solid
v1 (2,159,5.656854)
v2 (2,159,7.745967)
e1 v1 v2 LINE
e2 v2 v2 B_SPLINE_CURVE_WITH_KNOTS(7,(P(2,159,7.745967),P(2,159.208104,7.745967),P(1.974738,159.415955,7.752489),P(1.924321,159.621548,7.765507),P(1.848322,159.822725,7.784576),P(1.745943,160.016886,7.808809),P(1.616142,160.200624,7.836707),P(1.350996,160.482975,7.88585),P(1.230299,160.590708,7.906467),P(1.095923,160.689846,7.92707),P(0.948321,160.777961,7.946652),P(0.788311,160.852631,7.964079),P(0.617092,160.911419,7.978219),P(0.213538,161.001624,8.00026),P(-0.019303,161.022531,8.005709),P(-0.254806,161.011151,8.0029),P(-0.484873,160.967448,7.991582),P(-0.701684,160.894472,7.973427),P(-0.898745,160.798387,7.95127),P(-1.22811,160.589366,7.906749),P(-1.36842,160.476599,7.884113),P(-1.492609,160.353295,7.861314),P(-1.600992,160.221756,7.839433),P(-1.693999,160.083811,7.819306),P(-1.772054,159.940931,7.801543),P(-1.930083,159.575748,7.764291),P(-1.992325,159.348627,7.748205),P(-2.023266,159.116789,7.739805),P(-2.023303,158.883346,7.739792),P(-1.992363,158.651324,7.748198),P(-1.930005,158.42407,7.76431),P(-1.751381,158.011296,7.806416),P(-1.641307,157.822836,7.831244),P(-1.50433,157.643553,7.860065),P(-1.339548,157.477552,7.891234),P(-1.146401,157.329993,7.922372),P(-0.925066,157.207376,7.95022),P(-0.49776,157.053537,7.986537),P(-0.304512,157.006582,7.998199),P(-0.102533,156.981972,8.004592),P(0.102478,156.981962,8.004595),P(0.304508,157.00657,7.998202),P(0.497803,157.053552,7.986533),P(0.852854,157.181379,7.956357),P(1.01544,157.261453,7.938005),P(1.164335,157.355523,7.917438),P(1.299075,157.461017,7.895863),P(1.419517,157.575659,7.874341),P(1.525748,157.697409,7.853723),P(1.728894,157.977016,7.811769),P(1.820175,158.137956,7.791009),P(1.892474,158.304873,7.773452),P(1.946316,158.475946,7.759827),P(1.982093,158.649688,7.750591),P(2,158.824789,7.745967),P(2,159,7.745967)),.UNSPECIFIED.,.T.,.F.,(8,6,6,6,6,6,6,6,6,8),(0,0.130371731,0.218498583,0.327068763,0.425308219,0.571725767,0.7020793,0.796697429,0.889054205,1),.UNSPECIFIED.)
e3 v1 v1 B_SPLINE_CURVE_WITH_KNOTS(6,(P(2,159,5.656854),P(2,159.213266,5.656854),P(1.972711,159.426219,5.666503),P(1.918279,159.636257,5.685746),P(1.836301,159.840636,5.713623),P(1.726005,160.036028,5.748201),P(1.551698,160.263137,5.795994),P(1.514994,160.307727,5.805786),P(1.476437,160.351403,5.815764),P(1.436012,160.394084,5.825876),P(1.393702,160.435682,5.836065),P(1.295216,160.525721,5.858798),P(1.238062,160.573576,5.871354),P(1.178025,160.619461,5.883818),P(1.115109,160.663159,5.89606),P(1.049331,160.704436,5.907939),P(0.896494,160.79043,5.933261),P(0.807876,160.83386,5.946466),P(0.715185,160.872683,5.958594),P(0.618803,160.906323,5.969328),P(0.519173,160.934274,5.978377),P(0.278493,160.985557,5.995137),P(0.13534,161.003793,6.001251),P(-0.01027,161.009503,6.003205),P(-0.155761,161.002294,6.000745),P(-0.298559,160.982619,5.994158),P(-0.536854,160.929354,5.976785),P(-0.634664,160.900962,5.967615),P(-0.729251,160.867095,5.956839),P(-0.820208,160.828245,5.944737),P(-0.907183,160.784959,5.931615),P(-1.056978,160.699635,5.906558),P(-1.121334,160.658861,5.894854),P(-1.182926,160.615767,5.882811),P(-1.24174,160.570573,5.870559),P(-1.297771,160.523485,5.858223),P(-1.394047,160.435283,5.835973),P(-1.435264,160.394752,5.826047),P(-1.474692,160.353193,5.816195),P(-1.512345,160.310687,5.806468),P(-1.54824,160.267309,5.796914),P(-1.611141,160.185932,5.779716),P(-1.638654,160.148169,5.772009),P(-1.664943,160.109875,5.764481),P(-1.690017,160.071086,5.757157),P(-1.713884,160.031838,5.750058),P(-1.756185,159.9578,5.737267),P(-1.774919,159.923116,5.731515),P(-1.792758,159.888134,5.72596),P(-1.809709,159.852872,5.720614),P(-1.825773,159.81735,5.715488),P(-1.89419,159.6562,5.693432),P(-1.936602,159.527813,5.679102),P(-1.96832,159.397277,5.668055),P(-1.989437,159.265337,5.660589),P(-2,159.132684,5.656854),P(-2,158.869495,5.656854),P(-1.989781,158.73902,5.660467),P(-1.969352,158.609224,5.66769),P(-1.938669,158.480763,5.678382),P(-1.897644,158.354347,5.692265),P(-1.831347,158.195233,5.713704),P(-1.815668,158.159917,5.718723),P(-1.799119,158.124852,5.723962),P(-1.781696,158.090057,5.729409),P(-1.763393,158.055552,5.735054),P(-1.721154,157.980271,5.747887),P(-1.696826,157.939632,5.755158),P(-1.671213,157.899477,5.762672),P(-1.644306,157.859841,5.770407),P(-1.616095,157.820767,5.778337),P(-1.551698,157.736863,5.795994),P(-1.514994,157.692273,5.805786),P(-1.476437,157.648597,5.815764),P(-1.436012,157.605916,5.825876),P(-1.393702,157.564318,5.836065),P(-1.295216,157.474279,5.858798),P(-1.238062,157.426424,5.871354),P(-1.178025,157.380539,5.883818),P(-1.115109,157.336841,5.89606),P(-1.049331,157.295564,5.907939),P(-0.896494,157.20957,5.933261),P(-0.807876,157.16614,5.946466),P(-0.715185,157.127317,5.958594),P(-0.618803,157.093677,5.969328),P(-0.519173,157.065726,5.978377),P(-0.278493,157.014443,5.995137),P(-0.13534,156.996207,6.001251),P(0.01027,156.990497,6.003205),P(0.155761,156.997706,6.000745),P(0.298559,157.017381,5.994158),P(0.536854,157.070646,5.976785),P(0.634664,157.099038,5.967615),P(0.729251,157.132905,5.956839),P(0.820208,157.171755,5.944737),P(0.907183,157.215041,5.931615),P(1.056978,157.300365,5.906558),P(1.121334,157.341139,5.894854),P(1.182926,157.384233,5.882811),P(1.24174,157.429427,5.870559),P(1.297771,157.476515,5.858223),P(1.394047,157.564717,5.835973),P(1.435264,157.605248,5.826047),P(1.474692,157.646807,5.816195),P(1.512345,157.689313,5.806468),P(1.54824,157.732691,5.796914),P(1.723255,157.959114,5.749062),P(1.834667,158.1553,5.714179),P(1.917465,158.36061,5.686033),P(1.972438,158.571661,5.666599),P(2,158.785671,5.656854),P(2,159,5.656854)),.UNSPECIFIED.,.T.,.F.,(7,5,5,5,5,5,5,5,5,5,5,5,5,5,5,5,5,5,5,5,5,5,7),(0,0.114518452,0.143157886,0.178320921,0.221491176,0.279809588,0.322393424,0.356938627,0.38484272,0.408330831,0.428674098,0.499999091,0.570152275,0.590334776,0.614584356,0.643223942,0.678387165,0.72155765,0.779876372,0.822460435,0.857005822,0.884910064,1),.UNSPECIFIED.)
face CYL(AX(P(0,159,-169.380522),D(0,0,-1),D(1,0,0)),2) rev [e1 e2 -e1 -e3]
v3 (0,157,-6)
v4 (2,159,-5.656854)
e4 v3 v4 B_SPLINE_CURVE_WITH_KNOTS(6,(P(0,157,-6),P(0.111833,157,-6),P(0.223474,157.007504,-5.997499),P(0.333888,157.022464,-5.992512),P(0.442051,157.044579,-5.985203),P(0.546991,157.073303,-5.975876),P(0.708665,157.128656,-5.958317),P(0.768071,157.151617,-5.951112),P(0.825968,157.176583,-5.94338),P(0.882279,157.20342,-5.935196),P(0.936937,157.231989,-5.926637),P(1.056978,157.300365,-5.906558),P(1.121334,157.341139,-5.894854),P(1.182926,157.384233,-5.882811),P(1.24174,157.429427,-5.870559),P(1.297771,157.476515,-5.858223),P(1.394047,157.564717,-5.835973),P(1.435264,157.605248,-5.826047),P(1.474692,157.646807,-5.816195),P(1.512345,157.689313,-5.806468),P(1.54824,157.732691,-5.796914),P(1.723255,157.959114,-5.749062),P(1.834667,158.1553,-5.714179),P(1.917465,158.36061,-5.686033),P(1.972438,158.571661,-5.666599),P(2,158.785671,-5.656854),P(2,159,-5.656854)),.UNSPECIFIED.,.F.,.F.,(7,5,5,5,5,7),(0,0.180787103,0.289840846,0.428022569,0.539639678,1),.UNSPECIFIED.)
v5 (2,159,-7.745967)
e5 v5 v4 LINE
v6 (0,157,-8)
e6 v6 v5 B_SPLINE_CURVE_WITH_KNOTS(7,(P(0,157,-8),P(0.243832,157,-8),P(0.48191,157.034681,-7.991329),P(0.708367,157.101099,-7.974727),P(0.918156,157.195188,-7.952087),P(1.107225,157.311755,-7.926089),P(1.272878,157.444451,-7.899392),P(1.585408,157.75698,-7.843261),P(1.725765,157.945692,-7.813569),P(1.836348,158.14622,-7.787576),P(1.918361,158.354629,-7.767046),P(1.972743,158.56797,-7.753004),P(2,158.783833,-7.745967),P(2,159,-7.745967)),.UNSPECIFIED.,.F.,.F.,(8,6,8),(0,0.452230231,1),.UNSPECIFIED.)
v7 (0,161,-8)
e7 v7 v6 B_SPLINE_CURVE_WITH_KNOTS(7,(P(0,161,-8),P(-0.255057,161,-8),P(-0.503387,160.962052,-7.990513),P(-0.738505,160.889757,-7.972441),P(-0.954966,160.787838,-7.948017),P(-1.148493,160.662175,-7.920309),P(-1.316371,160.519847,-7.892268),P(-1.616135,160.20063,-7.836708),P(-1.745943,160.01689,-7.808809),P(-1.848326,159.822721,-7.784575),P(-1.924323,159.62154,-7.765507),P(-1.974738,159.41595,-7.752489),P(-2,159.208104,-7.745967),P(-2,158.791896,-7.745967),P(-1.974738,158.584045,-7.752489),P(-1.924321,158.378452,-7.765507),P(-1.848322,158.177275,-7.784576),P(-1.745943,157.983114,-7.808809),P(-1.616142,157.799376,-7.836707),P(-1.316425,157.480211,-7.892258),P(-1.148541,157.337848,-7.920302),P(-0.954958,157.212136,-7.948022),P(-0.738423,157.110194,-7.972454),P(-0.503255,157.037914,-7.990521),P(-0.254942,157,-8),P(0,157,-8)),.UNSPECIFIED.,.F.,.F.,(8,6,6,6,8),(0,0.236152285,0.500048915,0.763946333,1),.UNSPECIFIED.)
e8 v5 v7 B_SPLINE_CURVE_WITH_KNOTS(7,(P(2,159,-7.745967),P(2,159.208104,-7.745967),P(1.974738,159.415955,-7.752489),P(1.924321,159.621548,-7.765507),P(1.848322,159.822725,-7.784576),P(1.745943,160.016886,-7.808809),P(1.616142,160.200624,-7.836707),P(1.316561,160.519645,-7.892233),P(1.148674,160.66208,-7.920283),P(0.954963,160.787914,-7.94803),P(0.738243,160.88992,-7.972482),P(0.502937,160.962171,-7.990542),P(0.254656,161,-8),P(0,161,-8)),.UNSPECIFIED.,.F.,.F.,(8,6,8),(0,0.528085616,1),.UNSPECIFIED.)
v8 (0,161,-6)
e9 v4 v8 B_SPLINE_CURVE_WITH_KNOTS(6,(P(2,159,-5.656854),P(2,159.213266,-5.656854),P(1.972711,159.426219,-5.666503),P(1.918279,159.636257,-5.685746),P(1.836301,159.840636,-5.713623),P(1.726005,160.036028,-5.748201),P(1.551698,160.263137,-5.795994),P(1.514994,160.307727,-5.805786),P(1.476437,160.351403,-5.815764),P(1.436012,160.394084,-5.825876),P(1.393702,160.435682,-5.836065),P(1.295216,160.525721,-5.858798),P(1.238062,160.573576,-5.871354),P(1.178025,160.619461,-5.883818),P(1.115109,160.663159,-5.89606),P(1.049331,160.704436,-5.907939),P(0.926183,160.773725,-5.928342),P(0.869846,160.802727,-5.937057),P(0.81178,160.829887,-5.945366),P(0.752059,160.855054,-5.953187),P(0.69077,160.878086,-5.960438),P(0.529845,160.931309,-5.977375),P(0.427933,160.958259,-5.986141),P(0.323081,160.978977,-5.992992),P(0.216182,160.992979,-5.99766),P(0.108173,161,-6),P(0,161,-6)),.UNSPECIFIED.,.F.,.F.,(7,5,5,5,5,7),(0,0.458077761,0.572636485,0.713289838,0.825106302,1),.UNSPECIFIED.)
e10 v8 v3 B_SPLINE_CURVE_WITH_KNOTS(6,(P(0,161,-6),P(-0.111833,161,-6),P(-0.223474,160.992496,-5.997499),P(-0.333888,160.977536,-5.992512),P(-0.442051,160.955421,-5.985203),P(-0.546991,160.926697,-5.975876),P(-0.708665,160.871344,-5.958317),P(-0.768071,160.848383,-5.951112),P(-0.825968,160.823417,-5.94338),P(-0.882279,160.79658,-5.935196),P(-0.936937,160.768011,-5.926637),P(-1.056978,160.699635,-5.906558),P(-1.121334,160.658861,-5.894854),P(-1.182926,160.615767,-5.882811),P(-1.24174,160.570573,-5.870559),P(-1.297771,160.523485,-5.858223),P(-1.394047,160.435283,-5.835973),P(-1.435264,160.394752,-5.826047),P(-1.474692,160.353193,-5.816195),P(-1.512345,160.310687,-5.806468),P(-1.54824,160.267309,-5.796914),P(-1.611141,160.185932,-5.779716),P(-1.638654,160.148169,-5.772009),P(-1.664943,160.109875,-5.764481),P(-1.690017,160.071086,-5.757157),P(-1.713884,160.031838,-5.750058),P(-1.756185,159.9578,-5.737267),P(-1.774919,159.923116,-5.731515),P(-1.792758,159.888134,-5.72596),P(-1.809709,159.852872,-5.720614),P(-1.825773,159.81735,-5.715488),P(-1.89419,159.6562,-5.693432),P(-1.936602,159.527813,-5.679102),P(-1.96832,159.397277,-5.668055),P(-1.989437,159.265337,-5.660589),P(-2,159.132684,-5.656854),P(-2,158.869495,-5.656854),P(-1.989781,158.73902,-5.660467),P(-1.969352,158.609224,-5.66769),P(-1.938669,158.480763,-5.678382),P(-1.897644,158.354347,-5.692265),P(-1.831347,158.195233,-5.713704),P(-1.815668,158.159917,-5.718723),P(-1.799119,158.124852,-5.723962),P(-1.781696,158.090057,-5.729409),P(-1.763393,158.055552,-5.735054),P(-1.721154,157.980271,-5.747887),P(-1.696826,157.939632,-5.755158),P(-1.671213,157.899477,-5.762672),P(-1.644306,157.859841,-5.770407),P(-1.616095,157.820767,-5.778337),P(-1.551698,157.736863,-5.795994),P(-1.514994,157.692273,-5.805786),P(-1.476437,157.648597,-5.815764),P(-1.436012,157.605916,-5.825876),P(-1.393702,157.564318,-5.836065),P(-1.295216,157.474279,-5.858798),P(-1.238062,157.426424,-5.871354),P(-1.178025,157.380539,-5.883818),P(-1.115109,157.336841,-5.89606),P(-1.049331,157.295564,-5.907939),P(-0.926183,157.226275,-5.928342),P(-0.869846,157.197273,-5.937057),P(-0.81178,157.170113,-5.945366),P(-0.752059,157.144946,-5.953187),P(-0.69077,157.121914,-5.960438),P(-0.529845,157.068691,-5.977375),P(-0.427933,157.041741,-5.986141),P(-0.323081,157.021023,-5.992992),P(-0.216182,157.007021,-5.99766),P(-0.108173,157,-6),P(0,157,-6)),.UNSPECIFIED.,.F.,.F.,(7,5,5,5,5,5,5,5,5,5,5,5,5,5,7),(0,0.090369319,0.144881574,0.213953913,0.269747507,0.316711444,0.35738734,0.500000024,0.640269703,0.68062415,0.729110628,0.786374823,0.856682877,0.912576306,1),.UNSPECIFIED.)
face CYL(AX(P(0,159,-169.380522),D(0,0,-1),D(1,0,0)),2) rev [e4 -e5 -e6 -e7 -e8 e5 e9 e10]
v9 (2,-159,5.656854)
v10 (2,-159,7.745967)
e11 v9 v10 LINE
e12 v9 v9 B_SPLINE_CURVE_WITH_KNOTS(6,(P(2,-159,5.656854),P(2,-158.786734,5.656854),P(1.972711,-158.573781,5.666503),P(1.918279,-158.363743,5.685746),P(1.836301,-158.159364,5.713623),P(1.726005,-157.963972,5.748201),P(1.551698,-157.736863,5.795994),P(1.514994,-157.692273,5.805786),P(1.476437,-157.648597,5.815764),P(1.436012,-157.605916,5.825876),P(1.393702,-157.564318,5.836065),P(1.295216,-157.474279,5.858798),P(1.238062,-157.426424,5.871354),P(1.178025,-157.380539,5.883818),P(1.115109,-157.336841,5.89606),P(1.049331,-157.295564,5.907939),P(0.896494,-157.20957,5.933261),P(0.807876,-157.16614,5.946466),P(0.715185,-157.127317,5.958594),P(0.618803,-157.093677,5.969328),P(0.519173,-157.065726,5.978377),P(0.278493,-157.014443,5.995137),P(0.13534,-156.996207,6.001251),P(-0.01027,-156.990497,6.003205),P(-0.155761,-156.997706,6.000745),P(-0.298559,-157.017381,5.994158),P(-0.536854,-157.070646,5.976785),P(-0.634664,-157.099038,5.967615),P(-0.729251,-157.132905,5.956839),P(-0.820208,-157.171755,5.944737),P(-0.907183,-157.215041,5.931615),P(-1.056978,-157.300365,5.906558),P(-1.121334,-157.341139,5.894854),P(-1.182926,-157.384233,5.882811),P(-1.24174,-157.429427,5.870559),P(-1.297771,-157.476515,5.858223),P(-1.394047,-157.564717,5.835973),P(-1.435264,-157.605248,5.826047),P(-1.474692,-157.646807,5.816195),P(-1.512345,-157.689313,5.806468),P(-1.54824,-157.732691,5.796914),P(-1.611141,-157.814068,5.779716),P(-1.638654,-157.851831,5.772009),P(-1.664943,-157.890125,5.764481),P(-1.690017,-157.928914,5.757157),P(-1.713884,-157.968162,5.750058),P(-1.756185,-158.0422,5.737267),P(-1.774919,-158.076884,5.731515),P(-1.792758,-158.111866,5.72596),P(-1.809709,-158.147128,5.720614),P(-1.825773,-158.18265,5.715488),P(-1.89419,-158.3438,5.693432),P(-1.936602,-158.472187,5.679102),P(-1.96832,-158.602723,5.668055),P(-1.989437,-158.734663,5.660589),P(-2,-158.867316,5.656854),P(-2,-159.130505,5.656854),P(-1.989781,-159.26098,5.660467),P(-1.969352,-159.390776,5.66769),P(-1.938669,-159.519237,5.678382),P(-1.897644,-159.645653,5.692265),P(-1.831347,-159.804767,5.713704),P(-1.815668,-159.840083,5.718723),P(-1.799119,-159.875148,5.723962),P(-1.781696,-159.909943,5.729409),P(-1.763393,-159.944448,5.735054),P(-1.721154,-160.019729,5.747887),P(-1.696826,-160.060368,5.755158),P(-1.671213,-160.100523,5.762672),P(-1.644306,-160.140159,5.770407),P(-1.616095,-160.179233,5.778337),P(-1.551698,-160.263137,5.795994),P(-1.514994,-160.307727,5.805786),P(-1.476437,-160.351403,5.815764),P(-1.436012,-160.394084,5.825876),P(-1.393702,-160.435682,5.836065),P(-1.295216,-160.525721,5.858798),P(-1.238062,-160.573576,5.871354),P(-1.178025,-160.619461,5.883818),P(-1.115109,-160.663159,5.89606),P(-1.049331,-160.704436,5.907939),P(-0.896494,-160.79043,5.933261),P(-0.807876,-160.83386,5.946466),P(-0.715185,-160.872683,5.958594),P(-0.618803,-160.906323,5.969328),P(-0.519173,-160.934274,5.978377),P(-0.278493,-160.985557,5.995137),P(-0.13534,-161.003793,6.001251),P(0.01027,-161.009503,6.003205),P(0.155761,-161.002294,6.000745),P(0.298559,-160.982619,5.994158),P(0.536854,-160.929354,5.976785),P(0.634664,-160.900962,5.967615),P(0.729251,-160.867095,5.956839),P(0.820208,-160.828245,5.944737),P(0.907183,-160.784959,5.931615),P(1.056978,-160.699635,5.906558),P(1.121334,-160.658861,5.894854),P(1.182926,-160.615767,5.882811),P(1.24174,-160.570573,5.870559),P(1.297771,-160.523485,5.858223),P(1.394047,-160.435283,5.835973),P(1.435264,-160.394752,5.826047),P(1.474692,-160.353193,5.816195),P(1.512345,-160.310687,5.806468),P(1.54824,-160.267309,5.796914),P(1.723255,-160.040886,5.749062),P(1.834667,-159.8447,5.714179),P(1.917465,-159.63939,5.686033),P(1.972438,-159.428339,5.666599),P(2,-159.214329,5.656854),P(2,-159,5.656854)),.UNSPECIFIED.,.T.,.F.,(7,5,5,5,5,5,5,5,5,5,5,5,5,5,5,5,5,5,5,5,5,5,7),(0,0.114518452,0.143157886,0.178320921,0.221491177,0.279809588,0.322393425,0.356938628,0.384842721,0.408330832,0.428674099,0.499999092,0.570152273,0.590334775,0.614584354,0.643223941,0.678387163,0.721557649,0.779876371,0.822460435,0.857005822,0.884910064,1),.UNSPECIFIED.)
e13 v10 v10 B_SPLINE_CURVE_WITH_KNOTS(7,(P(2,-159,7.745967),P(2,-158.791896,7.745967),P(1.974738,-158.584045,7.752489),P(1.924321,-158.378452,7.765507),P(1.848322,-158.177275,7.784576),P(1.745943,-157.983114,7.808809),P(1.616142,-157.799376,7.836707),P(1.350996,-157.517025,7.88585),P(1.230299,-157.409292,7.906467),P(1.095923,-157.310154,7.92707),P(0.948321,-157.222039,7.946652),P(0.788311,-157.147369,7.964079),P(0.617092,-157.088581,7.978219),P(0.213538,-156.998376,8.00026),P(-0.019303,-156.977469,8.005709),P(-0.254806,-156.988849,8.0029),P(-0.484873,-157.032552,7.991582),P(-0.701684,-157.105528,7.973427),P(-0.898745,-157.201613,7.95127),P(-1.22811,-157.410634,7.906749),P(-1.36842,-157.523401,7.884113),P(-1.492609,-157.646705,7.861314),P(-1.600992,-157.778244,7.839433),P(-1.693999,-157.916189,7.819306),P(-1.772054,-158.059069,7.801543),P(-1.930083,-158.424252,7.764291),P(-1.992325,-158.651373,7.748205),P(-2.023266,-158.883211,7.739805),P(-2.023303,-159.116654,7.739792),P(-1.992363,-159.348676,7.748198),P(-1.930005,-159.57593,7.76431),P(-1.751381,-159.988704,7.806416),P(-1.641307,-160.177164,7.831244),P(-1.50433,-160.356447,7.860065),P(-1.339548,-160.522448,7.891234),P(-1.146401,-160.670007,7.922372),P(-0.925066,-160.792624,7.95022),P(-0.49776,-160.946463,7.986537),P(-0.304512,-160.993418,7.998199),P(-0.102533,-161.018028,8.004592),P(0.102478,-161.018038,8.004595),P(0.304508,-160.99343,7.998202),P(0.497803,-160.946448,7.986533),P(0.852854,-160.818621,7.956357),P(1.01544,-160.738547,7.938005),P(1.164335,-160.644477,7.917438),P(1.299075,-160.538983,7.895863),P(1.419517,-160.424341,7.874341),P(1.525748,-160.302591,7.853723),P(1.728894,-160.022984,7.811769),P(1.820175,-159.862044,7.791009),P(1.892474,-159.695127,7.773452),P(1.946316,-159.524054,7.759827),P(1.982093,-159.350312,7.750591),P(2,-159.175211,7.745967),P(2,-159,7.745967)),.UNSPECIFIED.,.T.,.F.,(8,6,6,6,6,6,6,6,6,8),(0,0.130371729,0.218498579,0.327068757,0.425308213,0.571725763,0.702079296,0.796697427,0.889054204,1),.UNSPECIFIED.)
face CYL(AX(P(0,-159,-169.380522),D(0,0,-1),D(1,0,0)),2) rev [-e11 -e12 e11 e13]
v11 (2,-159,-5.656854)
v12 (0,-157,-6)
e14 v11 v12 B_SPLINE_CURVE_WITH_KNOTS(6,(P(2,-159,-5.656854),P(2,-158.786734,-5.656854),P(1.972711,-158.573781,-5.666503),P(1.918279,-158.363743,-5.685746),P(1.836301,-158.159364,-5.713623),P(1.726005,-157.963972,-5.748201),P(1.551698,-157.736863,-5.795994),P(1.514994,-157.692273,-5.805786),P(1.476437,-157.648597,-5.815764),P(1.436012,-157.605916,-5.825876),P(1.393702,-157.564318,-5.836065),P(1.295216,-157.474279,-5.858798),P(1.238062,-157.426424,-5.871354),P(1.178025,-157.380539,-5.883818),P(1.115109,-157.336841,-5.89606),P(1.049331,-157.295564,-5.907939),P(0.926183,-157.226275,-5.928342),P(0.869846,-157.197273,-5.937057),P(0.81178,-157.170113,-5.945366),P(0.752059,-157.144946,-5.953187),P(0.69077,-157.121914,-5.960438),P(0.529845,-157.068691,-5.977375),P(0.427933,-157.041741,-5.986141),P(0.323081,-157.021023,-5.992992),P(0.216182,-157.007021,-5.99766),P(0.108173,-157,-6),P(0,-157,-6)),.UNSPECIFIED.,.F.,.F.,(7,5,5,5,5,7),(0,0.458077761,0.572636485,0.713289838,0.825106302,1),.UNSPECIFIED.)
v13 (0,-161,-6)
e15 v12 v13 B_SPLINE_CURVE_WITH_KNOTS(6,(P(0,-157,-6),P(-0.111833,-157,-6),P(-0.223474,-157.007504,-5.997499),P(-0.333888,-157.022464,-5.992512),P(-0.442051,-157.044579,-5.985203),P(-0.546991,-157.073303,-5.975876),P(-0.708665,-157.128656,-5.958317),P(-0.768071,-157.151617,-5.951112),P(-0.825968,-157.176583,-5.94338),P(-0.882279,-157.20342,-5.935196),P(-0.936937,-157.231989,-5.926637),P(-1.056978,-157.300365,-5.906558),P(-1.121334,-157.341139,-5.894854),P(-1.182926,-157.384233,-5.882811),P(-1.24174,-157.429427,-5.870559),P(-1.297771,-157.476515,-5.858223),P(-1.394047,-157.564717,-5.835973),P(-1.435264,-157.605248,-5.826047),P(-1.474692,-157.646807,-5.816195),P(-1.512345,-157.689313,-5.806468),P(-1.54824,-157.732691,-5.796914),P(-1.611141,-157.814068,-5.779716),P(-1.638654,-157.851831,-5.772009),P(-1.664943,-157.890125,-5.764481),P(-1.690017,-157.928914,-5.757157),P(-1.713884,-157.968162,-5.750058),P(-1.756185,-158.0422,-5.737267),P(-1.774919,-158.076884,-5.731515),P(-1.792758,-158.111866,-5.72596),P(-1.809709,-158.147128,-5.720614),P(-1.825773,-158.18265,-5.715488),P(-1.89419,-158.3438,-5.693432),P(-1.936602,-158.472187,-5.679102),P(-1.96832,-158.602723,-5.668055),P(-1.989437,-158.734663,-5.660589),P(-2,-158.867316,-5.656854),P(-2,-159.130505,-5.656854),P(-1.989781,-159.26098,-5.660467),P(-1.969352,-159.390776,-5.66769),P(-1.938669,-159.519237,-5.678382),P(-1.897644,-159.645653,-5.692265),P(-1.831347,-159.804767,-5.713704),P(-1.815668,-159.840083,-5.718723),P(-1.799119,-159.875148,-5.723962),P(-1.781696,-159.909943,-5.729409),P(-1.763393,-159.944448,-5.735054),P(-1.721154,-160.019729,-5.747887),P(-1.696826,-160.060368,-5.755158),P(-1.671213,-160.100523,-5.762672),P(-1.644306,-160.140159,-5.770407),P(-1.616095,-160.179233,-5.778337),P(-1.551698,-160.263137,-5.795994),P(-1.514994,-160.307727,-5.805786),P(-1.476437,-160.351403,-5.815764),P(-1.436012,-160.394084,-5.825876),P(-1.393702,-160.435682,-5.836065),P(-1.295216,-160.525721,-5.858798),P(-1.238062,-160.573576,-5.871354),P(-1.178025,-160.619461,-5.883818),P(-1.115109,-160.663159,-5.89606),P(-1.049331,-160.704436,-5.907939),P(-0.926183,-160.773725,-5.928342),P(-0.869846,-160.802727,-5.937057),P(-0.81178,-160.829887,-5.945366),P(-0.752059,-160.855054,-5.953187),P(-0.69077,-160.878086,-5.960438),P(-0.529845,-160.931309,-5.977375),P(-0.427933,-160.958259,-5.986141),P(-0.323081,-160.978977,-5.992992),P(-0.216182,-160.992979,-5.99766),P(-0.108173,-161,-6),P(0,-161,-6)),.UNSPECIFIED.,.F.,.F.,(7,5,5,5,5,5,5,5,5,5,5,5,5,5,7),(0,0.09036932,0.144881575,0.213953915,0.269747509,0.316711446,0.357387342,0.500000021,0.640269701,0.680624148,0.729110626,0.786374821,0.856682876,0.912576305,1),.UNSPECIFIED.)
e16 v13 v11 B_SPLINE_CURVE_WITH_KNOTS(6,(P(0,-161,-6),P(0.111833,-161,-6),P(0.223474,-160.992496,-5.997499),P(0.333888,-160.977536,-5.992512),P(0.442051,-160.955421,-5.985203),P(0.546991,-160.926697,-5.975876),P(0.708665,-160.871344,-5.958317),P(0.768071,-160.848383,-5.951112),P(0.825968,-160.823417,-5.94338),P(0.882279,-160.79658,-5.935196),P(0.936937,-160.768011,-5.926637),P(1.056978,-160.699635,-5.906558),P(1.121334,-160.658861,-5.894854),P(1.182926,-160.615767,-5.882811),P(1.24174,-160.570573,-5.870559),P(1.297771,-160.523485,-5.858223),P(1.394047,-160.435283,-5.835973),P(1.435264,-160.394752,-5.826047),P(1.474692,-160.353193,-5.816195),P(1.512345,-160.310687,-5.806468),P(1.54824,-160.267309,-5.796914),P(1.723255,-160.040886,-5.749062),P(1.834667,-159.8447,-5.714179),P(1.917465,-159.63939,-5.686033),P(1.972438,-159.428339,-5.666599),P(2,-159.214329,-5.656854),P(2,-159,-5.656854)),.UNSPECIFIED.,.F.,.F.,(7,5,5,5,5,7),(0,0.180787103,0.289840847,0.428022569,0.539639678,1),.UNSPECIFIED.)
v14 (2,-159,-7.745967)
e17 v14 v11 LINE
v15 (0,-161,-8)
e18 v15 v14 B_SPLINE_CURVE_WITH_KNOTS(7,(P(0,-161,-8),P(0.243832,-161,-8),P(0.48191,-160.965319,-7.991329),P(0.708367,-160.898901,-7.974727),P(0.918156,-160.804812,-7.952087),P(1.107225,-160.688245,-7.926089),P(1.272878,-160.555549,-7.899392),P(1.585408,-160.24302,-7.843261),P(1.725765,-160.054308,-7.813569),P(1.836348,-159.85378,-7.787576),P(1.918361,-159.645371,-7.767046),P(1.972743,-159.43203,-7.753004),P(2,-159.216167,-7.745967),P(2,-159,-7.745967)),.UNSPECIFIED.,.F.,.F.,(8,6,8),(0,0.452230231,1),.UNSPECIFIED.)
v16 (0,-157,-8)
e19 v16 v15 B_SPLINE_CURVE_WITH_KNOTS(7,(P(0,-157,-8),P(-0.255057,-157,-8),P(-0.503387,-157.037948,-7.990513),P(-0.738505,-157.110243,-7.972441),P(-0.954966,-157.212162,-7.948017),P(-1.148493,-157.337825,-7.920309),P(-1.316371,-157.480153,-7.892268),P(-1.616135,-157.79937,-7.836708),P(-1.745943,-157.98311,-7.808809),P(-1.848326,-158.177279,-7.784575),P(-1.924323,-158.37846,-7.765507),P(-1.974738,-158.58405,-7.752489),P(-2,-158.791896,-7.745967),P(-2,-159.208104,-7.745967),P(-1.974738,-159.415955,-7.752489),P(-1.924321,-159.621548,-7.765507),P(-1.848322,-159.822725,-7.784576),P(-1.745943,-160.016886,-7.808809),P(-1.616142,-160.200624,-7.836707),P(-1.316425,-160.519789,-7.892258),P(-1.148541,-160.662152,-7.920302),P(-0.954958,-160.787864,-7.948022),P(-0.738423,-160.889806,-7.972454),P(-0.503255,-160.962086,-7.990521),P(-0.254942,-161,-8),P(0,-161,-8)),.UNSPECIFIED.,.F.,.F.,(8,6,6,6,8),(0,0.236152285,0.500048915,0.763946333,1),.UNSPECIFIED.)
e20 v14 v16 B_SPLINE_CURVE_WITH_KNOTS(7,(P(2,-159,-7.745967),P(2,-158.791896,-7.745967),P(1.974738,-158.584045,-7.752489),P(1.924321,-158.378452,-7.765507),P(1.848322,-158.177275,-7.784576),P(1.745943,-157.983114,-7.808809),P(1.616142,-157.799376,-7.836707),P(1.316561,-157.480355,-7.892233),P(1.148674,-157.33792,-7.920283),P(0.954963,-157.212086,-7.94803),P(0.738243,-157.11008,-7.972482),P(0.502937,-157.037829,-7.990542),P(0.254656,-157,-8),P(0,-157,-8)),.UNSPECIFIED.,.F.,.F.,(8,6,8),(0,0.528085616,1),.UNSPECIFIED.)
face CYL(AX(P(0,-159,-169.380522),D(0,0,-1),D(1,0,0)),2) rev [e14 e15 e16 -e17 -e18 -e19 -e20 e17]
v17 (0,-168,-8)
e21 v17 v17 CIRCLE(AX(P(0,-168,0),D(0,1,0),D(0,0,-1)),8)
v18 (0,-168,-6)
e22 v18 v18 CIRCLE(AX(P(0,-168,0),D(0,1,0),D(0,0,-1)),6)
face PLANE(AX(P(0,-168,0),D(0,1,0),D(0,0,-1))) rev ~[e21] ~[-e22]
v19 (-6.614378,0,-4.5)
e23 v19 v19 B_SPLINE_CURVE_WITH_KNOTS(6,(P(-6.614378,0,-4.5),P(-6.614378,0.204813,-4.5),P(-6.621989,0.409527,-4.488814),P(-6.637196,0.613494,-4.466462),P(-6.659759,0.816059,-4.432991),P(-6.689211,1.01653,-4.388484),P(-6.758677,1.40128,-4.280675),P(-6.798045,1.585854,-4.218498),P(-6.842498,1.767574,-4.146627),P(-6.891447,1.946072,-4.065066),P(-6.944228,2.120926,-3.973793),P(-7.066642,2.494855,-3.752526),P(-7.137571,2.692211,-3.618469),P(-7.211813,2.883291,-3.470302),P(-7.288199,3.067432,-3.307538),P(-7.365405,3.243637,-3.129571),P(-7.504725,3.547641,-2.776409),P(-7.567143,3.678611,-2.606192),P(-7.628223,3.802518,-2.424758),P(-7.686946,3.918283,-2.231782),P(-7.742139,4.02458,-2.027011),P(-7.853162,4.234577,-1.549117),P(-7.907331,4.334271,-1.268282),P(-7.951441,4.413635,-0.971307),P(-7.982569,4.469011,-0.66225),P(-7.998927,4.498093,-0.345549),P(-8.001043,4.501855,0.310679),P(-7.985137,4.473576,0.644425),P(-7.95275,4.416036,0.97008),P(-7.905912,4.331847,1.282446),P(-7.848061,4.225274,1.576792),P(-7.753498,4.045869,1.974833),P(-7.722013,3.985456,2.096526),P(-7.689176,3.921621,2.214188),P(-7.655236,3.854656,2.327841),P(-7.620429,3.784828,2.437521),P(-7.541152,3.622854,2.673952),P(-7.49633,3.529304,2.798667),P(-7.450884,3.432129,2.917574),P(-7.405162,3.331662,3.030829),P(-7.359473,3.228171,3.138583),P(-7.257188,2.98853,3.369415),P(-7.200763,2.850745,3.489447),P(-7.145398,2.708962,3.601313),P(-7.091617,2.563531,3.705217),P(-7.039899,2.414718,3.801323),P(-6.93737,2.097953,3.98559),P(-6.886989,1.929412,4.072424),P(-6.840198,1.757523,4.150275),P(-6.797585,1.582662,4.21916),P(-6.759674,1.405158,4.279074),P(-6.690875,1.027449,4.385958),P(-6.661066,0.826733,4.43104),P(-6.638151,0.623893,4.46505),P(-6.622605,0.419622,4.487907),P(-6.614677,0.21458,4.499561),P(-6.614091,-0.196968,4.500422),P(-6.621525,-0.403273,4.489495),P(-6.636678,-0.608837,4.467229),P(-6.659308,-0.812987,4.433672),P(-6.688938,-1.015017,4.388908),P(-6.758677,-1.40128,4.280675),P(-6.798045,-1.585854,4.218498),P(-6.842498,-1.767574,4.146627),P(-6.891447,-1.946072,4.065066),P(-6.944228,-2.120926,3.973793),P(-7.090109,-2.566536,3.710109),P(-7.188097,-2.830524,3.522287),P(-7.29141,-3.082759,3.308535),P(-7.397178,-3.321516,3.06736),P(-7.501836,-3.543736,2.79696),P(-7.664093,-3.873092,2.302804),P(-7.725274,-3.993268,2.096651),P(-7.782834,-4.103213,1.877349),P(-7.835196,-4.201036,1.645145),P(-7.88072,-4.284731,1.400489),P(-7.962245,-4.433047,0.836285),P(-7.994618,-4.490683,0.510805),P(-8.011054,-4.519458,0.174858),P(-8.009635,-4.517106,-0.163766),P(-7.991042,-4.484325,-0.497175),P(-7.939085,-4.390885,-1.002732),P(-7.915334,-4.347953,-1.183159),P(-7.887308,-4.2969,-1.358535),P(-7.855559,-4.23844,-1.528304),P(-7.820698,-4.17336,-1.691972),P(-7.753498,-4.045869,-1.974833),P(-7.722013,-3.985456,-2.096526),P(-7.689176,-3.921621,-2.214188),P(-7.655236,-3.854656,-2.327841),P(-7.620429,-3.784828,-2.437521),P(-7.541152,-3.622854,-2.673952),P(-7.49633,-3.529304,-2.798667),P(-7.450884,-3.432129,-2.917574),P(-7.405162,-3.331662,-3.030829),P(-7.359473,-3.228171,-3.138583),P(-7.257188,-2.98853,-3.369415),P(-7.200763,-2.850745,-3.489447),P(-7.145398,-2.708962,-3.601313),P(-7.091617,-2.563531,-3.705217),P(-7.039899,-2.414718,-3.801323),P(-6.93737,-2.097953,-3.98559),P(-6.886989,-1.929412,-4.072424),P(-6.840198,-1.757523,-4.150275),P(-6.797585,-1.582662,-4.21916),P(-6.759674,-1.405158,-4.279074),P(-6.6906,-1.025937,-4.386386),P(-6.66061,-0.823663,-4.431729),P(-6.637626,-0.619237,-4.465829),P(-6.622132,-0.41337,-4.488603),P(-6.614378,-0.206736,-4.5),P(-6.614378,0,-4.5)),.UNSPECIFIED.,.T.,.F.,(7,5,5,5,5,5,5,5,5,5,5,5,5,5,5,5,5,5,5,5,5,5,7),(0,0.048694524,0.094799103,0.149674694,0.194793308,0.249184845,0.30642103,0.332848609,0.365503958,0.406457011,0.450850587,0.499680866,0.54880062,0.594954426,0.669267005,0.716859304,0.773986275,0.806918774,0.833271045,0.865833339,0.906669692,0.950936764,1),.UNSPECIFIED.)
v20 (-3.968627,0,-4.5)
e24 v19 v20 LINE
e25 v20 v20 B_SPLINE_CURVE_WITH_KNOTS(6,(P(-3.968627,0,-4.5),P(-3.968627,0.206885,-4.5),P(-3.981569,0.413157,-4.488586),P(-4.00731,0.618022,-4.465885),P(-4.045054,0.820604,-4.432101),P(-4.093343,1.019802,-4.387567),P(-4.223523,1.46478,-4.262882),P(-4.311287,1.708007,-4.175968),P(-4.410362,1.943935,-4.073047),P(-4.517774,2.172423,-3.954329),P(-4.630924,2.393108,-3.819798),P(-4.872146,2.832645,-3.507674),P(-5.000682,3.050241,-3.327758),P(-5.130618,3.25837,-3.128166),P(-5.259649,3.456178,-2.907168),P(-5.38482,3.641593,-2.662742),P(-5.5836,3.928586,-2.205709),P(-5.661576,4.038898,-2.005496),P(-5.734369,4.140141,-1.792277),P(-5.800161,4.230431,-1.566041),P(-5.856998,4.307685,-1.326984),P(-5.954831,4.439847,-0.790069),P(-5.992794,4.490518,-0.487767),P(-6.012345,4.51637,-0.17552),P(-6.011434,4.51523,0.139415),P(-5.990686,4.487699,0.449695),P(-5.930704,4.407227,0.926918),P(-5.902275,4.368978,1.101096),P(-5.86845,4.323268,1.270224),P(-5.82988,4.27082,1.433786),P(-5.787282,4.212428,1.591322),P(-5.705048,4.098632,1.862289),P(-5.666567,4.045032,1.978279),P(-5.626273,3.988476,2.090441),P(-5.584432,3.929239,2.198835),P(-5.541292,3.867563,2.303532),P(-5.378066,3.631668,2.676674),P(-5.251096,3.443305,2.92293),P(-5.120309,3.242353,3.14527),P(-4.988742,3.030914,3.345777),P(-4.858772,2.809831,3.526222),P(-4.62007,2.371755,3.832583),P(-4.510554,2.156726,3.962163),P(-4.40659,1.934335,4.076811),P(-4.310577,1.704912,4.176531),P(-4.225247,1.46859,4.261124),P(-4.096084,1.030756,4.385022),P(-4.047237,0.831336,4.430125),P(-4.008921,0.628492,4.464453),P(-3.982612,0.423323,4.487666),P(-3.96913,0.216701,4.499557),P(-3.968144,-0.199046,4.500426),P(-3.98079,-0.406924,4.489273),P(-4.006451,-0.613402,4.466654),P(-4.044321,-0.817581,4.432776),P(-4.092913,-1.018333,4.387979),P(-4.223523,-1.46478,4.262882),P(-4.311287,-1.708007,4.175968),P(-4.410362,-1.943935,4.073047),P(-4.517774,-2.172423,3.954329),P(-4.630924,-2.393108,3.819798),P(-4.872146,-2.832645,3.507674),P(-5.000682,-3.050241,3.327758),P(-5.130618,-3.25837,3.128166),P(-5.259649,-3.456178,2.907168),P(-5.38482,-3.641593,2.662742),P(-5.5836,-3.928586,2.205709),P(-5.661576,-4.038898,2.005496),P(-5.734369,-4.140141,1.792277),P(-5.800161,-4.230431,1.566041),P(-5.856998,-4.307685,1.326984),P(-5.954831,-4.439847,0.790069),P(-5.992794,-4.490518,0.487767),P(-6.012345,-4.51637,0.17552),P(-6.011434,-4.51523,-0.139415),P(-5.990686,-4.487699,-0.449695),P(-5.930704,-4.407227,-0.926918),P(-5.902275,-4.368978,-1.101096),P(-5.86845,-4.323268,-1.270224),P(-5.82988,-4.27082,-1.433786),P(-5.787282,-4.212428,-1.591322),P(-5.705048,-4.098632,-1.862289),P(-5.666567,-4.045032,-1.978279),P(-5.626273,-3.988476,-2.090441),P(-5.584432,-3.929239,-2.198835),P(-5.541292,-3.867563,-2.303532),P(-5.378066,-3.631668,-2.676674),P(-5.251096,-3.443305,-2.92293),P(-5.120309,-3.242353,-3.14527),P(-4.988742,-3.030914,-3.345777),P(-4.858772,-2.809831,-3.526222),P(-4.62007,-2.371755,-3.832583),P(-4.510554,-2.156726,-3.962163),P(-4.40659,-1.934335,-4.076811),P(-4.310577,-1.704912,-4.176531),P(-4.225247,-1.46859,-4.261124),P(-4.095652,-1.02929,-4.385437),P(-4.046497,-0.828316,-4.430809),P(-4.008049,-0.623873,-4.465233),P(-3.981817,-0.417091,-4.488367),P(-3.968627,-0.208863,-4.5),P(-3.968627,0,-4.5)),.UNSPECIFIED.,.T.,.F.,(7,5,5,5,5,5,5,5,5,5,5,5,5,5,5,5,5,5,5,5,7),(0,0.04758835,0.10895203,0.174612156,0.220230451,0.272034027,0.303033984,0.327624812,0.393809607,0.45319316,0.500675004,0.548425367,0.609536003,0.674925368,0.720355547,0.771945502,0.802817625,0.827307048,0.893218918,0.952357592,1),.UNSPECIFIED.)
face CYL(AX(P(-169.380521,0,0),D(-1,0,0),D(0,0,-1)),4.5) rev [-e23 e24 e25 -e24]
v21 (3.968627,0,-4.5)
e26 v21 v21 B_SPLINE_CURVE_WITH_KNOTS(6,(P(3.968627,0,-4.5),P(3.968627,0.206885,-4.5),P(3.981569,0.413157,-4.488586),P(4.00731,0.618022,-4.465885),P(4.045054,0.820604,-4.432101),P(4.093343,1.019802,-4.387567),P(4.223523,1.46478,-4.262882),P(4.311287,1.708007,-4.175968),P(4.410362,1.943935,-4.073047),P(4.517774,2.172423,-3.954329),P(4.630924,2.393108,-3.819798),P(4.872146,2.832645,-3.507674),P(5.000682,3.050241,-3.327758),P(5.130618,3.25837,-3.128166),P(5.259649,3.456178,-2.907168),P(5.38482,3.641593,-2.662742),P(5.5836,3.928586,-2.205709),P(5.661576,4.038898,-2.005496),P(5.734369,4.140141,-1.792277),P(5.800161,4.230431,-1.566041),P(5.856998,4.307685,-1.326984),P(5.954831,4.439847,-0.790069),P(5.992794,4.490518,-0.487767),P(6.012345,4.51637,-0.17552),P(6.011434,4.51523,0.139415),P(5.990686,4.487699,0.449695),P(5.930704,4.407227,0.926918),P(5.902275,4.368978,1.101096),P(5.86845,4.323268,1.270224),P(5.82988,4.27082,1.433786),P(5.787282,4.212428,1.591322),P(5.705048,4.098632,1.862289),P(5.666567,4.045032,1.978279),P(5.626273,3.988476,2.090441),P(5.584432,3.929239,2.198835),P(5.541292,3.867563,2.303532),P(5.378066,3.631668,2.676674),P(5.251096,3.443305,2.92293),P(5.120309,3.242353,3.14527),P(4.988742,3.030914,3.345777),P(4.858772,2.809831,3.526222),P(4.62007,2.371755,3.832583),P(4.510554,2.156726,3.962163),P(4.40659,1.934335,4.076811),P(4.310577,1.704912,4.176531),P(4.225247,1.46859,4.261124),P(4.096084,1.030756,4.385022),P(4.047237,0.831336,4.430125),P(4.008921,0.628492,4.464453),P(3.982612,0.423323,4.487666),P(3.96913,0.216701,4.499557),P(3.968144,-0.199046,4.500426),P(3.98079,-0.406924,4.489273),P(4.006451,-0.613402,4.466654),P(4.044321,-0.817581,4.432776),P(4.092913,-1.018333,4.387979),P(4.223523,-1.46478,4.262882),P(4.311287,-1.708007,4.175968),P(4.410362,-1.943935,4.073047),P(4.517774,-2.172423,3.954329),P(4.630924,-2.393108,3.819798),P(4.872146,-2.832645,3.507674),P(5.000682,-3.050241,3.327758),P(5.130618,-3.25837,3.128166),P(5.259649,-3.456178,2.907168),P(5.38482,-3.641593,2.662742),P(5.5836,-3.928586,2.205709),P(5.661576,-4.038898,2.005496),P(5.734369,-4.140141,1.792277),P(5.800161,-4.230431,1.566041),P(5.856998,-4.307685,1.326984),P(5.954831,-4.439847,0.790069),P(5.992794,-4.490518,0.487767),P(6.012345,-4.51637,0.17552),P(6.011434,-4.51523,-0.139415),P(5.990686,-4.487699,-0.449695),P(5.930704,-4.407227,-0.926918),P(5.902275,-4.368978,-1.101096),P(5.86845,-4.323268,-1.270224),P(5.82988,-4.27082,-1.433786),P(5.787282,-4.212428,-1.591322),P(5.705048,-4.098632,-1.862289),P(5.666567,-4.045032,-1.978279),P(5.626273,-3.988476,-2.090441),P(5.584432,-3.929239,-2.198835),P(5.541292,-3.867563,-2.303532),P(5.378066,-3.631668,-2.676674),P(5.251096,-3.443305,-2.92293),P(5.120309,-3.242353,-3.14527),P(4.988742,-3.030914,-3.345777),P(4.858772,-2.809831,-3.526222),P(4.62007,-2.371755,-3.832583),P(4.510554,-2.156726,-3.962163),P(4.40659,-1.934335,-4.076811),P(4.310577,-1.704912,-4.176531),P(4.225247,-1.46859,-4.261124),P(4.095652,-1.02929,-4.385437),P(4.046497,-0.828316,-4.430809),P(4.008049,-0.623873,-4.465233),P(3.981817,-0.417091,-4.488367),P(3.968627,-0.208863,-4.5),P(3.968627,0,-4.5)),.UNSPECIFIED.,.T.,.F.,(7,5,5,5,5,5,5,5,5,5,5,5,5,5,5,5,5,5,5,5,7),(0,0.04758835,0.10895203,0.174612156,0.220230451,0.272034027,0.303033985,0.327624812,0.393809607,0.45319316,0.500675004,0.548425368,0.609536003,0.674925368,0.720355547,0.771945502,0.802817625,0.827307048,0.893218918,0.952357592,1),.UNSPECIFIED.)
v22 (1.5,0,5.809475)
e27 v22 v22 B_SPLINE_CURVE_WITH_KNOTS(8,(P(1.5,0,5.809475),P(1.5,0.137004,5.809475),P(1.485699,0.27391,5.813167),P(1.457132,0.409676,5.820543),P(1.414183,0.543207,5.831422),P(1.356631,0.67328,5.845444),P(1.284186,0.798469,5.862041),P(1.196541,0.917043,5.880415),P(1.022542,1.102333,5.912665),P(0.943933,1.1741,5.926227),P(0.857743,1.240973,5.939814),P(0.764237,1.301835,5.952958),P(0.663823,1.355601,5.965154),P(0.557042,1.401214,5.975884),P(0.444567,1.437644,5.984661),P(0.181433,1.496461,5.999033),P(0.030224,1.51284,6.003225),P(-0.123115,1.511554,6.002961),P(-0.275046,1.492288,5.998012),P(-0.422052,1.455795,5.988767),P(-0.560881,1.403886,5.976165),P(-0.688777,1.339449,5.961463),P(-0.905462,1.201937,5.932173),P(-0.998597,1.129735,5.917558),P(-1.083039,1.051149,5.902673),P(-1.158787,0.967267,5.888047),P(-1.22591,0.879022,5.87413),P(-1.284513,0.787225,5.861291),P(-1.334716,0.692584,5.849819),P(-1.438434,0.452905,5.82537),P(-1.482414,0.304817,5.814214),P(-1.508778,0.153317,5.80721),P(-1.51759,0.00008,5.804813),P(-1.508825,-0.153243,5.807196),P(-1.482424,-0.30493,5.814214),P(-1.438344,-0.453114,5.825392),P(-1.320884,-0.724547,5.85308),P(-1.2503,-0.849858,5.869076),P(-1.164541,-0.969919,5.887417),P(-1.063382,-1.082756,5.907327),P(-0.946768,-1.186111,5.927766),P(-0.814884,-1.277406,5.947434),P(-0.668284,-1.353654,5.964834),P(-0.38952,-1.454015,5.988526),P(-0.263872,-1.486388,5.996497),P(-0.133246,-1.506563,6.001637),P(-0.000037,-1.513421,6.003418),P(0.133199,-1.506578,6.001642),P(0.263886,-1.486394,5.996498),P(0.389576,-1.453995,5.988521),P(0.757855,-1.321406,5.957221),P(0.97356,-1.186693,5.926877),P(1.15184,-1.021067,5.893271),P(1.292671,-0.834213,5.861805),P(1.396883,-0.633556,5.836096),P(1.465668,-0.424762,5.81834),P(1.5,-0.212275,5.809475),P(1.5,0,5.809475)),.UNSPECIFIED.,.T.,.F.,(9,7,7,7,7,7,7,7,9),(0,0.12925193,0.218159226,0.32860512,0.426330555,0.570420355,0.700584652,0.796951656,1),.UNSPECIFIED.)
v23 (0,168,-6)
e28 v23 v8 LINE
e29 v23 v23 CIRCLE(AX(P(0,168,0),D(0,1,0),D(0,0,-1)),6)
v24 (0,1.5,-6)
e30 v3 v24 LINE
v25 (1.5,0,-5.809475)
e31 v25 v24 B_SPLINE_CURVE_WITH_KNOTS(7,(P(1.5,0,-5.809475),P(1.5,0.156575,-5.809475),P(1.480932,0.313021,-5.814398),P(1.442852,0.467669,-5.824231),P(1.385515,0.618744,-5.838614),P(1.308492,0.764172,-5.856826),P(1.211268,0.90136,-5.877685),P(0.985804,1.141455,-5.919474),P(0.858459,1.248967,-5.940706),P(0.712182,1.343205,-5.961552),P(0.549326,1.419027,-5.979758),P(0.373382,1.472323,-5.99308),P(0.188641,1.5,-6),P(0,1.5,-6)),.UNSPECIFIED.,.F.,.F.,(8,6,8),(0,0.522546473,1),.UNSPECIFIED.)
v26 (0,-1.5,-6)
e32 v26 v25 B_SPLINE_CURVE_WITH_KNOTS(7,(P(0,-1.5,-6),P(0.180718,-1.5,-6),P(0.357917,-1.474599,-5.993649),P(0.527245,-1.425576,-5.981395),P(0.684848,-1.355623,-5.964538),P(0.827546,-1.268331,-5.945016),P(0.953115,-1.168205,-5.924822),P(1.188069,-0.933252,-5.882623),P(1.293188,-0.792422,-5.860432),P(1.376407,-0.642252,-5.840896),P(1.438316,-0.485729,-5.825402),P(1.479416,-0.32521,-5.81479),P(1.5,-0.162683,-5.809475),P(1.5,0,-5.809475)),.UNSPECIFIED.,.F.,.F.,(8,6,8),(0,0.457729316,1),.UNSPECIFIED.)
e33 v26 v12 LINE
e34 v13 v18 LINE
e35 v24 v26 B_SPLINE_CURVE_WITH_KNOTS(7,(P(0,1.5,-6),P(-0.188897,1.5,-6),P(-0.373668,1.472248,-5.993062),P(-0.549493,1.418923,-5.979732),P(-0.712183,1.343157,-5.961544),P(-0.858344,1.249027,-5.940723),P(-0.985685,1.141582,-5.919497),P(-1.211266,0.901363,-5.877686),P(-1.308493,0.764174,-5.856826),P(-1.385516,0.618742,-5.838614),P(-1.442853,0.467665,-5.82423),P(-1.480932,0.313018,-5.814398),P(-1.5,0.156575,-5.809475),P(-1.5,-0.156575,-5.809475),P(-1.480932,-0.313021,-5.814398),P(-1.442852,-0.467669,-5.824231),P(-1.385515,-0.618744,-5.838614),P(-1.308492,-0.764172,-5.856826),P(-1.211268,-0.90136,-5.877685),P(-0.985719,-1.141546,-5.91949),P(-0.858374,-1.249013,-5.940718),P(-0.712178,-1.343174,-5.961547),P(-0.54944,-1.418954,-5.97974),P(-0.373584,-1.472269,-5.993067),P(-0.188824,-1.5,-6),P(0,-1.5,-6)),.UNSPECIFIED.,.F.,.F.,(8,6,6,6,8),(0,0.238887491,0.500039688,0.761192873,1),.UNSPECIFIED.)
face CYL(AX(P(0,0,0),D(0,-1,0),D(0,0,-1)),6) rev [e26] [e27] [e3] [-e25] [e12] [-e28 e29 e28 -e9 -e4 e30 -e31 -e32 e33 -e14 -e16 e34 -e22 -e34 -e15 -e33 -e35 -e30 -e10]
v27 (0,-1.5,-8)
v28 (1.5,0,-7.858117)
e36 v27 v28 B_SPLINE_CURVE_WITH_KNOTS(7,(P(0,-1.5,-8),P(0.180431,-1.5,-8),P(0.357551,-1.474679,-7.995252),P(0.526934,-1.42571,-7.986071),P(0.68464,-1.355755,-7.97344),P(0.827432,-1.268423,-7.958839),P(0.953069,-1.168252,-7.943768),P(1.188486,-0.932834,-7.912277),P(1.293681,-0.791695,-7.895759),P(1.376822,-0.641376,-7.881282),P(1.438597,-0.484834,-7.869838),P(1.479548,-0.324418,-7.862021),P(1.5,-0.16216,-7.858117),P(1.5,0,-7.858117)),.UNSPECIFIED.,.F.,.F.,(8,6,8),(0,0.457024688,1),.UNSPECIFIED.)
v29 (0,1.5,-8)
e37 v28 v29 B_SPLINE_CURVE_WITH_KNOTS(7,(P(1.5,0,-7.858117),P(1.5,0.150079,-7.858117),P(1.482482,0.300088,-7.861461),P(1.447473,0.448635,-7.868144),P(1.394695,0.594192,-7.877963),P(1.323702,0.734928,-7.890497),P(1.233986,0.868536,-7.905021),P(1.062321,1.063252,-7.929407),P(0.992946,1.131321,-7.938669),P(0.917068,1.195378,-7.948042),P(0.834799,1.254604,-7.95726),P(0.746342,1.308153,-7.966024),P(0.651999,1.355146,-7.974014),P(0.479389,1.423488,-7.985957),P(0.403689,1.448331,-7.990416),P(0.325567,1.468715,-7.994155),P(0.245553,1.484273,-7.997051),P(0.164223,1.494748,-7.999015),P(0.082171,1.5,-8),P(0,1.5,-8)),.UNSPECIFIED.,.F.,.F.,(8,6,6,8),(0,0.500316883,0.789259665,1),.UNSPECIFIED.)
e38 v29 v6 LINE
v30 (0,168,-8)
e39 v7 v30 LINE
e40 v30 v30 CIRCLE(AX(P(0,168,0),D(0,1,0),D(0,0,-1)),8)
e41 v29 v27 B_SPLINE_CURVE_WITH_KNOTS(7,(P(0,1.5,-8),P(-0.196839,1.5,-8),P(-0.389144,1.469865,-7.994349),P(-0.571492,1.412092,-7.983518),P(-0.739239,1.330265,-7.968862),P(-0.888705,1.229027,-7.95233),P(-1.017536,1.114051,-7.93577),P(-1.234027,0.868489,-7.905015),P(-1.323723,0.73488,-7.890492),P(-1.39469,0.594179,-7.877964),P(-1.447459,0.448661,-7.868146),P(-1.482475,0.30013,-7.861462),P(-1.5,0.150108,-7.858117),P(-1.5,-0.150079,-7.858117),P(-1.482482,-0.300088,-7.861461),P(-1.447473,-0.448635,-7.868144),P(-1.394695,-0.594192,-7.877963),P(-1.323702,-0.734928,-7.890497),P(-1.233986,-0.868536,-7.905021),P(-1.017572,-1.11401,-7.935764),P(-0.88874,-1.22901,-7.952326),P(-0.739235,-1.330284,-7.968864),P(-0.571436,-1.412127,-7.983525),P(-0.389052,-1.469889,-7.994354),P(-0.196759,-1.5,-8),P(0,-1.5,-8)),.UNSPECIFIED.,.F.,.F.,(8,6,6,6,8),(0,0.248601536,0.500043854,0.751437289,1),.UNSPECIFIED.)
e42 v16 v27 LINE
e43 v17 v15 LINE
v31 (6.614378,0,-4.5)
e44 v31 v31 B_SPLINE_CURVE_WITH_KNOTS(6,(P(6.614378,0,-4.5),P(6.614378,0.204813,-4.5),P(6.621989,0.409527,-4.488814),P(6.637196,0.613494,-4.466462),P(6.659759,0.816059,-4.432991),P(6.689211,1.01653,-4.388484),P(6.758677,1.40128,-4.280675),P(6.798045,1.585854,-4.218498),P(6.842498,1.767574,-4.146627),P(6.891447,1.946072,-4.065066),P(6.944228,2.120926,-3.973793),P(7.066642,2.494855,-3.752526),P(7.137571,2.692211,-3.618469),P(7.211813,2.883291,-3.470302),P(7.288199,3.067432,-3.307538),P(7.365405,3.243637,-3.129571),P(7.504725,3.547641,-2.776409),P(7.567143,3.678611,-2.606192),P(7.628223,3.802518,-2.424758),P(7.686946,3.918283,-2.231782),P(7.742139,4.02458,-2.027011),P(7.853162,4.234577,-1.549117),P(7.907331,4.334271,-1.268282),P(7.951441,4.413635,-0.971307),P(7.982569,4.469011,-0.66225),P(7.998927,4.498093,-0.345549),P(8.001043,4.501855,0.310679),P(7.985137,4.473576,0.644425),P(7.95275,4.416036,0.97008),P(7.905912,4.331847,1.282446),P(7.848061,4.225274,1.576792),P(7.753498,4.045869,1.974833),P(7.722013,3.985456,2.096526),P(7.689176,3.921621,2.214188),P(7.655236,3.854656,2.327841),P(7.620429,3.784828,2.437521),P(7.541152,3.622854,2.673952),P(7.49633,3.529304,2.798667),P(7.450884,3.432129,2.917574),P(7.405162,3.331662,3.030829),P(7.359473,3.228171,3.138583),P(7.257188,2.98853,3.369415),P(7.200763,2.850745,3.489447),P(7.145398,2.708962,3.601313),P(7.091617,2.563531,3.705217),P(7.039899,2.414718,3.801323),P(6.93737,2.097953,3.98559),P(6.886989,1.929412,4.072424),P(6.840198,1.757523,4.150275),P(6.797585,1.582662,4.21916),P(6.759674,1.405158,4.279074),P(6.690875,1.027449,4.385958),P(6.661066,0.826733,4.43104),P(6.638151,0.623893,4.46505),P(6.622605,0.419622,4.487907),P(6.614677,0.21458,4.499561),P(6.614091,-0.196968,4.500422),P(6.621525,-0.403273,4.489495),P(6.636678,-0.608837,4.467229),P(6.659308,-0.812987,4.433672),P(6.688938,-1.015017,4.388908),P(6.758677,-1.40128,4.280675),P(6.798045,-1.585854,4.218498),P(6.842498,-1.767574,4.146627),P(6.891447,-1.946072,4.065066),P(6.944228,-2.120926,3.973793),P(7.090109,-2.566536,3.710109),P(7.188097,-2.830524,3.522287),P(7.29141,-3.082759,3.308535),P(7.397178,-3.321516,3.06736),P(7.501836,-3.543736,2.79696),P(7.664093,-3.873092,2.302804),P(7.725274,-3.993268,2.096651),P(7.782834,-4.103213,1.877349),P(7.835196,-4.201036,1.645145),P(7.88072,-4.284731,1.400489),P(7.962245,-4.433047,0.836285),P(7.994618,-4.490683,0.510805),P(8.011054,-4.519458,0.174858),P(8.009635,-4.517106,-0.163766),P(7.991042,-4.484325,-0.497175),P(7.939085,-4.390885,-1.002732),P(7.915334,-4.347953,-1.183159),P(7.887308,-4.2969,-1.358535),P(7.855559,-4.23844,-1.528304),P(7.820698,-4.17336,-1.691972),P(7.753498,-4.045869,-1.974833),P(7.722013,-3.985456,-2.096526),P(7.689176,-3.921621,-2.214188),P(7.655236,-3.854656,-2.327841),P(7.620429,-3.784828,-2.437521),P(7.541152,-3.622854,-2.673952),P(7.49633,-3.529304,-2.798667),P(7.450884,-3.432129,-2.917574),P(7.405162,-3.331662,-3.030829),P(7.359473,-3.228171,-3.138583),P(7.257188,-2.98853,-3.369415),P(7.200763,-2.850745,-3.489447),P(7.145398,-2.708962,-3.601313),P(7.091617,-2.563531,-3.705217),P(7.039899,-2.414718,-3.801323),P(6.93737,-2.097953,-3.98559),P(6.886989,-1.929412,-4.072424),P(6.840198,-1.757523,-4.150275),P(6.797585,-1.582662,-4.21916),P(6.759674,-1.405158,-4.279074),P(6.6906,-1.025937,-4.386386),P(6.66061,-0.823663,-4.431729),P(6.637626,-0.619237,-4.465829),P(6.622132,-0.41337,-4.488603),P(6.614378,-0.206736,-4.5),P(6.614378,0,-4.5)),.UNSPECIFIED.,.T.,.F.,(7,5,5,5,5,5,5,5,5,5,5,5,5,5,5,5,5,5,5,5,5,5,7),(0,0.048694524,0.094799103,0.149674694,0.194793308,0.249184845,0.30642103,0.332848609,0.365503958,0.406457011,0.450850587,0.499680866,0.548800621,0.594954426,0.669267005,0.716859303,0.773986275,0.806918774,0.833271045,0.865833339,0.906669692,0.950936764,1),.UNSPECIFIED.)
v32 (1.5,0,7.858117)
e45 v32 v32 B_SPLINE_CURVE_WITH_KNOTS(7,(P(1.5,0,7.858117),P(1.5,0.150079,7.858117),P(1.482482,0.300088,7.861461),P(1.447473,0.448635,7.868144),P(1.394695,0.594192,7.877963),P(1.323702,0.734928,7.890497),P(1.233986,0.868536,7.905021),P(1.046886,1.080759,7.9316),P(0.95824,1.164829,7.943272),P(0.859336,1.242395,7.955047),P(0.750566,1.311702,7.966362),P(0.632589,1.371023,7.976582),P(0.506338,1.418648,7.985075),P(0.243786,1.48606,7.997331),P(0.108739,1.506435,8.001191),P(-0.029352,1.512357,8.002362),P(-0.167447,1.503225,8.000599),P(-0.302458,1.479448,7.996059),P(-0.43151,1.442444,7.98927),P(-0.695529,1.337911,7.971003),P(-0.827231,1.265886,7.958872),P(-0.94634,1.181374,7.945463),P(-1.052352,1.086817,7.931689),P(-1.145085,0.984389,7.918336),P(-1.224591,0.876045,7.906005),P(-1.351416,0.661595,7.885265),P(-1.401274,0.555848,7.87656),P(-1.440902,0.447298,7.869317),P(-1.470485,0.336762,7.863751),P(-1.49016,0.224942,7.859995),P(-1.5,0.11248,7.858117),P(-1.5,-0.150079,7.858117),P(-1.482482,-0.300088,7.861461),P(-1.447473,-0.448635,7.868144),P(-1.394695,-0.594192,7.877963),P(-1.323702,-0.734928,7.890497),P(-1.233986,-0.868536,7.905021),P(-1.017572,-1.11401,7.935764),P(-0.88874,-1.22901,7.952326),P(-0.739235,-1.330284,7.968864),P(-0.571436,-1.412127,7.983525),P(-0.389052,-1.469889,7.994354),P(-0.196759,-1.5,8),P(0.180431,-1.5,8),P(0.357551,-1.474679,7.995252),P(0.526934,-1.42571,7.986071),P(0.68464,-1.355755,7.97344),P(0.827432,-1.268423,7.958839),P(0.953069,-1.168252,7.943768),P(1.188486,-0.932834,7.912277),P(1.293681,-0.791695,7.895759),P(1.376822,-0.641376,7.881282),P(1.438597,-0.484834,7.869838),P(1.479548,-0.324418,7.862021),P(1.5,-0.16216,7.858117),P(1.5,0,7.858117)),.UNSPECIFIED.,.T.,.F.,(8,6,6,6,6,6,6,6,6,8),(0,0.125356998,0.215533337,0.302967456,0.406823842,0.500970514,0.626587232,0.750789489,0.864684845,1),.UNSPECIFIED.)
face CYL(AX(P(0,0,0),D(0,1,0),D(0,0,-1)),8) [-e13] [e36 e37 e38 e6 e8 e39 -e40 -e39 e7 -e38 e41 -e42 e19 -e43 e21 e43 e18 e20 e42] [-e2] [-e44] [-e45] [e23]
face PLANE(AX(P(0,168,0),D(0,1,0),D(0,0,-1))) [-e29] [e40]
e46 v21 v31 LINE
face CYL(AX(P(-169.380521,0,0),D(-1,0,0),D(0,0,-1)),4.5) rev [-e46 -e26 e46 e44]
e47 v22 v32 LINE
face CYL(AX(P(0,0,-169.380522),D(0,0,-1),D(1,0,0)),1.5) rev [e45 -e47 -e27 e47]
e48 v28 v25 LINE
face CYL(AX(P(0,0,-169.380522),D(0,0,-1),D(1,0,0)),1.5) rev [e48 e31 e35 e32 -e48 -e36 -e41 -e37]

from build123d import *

# Parameters (mm, degrees)
SKETCH1_R               = 8
SKETCH1_R_2             = 6
BOSS_EXTRUDE1_DEPTH     = 168
CUT_EXTRUDE1_DEPTH      = 169.380521439
CUT_EXTRUDE1_DEPTH_BACK = 169.380521439
SKETCH2_R               = 4.5
CUT_EXTRUDE2_DEPTH      = 169.380521548
CUT_EXTRUDE2_DEPTH_BACK = 169.380521548
SKETCH3_R               = 1.5
CUT_EXTRUDE3_DEPTH      = 169.38052155
CUT_EXTRUDE3_DEPTH_BACK = 169.38052155
SKETCH4_R               = 2


with BuildPart() as part:
    # Sketch1 → Boss-Extrude1 (new, symmetric)
    with BuildSketch(Plane(origin=(0, 0, 0), x_dir=(1, 0, 0), z_dir=(0, 1, 0))):
        with Locations(Location((0, 0, 0), (0, 0, 90))):
            Circle(SKETCH1_R)
        with Locations(Location((0, 0, 0), (0, 0, 90))):
            Circle(SKETCH1_R_2, mode=Mode.SUBTRACT)
    extrude(amount=BOSS_EXTRUDE1_DEPTH, both=True)

    # Sketch2 → Cut-Extrude1 (cut, two sides: drawn at the far end of the back side and taken through both)
    with BuildSketch(Plane(origin=(0, 0, 0), x_dir=(0, 0, -1), z_dir=(1, 0, 0)).offset(-CUT_EXTRUDE1_DEPTH_BACK)):
        Circle(SKETCH2_R)
    extrude(amount=CUT_EXTRUDE1_DEPTH + CUT_EXTRUDE1_DEPTH_BACK, mode=Mode.SUBTRACT)

    # Sketch3 → Cut-Extrude2 (cut, two sides: drawn at the far end of the back side and taken through both)
    with BuildSketch(Plane.XY.offset(-CUT_EXTRUDE2_DEPTH_BACK)):
        Circle(SKETCH3_R)
    extrude(amount=CUT_EXTRUDE2_DEPTH + CUT_EXTRUDE2_DEPTH_BACK, mode=Mode.SUBTRACT)

    # Sketch4 → Cut-Extrude3 (cut, two sides: drawn at the far end of the back side and taken through both)
    with BuildSketch(Plane.XY.offset(-CUT_EXTRUDE3_DEPTH_BACK)):
        with Locations((0, 159)):
            Circle(SKETCH4_R)
        with Locations((0, -159)):
            Circle(SKETCH4_R)
    extrude(amount=CUT_EXTRUDE3_DEPTH + CUT_EXTRUDE3_DEPTH_BACK, mode=Mode.SUBTRACT)


solid = part.part
